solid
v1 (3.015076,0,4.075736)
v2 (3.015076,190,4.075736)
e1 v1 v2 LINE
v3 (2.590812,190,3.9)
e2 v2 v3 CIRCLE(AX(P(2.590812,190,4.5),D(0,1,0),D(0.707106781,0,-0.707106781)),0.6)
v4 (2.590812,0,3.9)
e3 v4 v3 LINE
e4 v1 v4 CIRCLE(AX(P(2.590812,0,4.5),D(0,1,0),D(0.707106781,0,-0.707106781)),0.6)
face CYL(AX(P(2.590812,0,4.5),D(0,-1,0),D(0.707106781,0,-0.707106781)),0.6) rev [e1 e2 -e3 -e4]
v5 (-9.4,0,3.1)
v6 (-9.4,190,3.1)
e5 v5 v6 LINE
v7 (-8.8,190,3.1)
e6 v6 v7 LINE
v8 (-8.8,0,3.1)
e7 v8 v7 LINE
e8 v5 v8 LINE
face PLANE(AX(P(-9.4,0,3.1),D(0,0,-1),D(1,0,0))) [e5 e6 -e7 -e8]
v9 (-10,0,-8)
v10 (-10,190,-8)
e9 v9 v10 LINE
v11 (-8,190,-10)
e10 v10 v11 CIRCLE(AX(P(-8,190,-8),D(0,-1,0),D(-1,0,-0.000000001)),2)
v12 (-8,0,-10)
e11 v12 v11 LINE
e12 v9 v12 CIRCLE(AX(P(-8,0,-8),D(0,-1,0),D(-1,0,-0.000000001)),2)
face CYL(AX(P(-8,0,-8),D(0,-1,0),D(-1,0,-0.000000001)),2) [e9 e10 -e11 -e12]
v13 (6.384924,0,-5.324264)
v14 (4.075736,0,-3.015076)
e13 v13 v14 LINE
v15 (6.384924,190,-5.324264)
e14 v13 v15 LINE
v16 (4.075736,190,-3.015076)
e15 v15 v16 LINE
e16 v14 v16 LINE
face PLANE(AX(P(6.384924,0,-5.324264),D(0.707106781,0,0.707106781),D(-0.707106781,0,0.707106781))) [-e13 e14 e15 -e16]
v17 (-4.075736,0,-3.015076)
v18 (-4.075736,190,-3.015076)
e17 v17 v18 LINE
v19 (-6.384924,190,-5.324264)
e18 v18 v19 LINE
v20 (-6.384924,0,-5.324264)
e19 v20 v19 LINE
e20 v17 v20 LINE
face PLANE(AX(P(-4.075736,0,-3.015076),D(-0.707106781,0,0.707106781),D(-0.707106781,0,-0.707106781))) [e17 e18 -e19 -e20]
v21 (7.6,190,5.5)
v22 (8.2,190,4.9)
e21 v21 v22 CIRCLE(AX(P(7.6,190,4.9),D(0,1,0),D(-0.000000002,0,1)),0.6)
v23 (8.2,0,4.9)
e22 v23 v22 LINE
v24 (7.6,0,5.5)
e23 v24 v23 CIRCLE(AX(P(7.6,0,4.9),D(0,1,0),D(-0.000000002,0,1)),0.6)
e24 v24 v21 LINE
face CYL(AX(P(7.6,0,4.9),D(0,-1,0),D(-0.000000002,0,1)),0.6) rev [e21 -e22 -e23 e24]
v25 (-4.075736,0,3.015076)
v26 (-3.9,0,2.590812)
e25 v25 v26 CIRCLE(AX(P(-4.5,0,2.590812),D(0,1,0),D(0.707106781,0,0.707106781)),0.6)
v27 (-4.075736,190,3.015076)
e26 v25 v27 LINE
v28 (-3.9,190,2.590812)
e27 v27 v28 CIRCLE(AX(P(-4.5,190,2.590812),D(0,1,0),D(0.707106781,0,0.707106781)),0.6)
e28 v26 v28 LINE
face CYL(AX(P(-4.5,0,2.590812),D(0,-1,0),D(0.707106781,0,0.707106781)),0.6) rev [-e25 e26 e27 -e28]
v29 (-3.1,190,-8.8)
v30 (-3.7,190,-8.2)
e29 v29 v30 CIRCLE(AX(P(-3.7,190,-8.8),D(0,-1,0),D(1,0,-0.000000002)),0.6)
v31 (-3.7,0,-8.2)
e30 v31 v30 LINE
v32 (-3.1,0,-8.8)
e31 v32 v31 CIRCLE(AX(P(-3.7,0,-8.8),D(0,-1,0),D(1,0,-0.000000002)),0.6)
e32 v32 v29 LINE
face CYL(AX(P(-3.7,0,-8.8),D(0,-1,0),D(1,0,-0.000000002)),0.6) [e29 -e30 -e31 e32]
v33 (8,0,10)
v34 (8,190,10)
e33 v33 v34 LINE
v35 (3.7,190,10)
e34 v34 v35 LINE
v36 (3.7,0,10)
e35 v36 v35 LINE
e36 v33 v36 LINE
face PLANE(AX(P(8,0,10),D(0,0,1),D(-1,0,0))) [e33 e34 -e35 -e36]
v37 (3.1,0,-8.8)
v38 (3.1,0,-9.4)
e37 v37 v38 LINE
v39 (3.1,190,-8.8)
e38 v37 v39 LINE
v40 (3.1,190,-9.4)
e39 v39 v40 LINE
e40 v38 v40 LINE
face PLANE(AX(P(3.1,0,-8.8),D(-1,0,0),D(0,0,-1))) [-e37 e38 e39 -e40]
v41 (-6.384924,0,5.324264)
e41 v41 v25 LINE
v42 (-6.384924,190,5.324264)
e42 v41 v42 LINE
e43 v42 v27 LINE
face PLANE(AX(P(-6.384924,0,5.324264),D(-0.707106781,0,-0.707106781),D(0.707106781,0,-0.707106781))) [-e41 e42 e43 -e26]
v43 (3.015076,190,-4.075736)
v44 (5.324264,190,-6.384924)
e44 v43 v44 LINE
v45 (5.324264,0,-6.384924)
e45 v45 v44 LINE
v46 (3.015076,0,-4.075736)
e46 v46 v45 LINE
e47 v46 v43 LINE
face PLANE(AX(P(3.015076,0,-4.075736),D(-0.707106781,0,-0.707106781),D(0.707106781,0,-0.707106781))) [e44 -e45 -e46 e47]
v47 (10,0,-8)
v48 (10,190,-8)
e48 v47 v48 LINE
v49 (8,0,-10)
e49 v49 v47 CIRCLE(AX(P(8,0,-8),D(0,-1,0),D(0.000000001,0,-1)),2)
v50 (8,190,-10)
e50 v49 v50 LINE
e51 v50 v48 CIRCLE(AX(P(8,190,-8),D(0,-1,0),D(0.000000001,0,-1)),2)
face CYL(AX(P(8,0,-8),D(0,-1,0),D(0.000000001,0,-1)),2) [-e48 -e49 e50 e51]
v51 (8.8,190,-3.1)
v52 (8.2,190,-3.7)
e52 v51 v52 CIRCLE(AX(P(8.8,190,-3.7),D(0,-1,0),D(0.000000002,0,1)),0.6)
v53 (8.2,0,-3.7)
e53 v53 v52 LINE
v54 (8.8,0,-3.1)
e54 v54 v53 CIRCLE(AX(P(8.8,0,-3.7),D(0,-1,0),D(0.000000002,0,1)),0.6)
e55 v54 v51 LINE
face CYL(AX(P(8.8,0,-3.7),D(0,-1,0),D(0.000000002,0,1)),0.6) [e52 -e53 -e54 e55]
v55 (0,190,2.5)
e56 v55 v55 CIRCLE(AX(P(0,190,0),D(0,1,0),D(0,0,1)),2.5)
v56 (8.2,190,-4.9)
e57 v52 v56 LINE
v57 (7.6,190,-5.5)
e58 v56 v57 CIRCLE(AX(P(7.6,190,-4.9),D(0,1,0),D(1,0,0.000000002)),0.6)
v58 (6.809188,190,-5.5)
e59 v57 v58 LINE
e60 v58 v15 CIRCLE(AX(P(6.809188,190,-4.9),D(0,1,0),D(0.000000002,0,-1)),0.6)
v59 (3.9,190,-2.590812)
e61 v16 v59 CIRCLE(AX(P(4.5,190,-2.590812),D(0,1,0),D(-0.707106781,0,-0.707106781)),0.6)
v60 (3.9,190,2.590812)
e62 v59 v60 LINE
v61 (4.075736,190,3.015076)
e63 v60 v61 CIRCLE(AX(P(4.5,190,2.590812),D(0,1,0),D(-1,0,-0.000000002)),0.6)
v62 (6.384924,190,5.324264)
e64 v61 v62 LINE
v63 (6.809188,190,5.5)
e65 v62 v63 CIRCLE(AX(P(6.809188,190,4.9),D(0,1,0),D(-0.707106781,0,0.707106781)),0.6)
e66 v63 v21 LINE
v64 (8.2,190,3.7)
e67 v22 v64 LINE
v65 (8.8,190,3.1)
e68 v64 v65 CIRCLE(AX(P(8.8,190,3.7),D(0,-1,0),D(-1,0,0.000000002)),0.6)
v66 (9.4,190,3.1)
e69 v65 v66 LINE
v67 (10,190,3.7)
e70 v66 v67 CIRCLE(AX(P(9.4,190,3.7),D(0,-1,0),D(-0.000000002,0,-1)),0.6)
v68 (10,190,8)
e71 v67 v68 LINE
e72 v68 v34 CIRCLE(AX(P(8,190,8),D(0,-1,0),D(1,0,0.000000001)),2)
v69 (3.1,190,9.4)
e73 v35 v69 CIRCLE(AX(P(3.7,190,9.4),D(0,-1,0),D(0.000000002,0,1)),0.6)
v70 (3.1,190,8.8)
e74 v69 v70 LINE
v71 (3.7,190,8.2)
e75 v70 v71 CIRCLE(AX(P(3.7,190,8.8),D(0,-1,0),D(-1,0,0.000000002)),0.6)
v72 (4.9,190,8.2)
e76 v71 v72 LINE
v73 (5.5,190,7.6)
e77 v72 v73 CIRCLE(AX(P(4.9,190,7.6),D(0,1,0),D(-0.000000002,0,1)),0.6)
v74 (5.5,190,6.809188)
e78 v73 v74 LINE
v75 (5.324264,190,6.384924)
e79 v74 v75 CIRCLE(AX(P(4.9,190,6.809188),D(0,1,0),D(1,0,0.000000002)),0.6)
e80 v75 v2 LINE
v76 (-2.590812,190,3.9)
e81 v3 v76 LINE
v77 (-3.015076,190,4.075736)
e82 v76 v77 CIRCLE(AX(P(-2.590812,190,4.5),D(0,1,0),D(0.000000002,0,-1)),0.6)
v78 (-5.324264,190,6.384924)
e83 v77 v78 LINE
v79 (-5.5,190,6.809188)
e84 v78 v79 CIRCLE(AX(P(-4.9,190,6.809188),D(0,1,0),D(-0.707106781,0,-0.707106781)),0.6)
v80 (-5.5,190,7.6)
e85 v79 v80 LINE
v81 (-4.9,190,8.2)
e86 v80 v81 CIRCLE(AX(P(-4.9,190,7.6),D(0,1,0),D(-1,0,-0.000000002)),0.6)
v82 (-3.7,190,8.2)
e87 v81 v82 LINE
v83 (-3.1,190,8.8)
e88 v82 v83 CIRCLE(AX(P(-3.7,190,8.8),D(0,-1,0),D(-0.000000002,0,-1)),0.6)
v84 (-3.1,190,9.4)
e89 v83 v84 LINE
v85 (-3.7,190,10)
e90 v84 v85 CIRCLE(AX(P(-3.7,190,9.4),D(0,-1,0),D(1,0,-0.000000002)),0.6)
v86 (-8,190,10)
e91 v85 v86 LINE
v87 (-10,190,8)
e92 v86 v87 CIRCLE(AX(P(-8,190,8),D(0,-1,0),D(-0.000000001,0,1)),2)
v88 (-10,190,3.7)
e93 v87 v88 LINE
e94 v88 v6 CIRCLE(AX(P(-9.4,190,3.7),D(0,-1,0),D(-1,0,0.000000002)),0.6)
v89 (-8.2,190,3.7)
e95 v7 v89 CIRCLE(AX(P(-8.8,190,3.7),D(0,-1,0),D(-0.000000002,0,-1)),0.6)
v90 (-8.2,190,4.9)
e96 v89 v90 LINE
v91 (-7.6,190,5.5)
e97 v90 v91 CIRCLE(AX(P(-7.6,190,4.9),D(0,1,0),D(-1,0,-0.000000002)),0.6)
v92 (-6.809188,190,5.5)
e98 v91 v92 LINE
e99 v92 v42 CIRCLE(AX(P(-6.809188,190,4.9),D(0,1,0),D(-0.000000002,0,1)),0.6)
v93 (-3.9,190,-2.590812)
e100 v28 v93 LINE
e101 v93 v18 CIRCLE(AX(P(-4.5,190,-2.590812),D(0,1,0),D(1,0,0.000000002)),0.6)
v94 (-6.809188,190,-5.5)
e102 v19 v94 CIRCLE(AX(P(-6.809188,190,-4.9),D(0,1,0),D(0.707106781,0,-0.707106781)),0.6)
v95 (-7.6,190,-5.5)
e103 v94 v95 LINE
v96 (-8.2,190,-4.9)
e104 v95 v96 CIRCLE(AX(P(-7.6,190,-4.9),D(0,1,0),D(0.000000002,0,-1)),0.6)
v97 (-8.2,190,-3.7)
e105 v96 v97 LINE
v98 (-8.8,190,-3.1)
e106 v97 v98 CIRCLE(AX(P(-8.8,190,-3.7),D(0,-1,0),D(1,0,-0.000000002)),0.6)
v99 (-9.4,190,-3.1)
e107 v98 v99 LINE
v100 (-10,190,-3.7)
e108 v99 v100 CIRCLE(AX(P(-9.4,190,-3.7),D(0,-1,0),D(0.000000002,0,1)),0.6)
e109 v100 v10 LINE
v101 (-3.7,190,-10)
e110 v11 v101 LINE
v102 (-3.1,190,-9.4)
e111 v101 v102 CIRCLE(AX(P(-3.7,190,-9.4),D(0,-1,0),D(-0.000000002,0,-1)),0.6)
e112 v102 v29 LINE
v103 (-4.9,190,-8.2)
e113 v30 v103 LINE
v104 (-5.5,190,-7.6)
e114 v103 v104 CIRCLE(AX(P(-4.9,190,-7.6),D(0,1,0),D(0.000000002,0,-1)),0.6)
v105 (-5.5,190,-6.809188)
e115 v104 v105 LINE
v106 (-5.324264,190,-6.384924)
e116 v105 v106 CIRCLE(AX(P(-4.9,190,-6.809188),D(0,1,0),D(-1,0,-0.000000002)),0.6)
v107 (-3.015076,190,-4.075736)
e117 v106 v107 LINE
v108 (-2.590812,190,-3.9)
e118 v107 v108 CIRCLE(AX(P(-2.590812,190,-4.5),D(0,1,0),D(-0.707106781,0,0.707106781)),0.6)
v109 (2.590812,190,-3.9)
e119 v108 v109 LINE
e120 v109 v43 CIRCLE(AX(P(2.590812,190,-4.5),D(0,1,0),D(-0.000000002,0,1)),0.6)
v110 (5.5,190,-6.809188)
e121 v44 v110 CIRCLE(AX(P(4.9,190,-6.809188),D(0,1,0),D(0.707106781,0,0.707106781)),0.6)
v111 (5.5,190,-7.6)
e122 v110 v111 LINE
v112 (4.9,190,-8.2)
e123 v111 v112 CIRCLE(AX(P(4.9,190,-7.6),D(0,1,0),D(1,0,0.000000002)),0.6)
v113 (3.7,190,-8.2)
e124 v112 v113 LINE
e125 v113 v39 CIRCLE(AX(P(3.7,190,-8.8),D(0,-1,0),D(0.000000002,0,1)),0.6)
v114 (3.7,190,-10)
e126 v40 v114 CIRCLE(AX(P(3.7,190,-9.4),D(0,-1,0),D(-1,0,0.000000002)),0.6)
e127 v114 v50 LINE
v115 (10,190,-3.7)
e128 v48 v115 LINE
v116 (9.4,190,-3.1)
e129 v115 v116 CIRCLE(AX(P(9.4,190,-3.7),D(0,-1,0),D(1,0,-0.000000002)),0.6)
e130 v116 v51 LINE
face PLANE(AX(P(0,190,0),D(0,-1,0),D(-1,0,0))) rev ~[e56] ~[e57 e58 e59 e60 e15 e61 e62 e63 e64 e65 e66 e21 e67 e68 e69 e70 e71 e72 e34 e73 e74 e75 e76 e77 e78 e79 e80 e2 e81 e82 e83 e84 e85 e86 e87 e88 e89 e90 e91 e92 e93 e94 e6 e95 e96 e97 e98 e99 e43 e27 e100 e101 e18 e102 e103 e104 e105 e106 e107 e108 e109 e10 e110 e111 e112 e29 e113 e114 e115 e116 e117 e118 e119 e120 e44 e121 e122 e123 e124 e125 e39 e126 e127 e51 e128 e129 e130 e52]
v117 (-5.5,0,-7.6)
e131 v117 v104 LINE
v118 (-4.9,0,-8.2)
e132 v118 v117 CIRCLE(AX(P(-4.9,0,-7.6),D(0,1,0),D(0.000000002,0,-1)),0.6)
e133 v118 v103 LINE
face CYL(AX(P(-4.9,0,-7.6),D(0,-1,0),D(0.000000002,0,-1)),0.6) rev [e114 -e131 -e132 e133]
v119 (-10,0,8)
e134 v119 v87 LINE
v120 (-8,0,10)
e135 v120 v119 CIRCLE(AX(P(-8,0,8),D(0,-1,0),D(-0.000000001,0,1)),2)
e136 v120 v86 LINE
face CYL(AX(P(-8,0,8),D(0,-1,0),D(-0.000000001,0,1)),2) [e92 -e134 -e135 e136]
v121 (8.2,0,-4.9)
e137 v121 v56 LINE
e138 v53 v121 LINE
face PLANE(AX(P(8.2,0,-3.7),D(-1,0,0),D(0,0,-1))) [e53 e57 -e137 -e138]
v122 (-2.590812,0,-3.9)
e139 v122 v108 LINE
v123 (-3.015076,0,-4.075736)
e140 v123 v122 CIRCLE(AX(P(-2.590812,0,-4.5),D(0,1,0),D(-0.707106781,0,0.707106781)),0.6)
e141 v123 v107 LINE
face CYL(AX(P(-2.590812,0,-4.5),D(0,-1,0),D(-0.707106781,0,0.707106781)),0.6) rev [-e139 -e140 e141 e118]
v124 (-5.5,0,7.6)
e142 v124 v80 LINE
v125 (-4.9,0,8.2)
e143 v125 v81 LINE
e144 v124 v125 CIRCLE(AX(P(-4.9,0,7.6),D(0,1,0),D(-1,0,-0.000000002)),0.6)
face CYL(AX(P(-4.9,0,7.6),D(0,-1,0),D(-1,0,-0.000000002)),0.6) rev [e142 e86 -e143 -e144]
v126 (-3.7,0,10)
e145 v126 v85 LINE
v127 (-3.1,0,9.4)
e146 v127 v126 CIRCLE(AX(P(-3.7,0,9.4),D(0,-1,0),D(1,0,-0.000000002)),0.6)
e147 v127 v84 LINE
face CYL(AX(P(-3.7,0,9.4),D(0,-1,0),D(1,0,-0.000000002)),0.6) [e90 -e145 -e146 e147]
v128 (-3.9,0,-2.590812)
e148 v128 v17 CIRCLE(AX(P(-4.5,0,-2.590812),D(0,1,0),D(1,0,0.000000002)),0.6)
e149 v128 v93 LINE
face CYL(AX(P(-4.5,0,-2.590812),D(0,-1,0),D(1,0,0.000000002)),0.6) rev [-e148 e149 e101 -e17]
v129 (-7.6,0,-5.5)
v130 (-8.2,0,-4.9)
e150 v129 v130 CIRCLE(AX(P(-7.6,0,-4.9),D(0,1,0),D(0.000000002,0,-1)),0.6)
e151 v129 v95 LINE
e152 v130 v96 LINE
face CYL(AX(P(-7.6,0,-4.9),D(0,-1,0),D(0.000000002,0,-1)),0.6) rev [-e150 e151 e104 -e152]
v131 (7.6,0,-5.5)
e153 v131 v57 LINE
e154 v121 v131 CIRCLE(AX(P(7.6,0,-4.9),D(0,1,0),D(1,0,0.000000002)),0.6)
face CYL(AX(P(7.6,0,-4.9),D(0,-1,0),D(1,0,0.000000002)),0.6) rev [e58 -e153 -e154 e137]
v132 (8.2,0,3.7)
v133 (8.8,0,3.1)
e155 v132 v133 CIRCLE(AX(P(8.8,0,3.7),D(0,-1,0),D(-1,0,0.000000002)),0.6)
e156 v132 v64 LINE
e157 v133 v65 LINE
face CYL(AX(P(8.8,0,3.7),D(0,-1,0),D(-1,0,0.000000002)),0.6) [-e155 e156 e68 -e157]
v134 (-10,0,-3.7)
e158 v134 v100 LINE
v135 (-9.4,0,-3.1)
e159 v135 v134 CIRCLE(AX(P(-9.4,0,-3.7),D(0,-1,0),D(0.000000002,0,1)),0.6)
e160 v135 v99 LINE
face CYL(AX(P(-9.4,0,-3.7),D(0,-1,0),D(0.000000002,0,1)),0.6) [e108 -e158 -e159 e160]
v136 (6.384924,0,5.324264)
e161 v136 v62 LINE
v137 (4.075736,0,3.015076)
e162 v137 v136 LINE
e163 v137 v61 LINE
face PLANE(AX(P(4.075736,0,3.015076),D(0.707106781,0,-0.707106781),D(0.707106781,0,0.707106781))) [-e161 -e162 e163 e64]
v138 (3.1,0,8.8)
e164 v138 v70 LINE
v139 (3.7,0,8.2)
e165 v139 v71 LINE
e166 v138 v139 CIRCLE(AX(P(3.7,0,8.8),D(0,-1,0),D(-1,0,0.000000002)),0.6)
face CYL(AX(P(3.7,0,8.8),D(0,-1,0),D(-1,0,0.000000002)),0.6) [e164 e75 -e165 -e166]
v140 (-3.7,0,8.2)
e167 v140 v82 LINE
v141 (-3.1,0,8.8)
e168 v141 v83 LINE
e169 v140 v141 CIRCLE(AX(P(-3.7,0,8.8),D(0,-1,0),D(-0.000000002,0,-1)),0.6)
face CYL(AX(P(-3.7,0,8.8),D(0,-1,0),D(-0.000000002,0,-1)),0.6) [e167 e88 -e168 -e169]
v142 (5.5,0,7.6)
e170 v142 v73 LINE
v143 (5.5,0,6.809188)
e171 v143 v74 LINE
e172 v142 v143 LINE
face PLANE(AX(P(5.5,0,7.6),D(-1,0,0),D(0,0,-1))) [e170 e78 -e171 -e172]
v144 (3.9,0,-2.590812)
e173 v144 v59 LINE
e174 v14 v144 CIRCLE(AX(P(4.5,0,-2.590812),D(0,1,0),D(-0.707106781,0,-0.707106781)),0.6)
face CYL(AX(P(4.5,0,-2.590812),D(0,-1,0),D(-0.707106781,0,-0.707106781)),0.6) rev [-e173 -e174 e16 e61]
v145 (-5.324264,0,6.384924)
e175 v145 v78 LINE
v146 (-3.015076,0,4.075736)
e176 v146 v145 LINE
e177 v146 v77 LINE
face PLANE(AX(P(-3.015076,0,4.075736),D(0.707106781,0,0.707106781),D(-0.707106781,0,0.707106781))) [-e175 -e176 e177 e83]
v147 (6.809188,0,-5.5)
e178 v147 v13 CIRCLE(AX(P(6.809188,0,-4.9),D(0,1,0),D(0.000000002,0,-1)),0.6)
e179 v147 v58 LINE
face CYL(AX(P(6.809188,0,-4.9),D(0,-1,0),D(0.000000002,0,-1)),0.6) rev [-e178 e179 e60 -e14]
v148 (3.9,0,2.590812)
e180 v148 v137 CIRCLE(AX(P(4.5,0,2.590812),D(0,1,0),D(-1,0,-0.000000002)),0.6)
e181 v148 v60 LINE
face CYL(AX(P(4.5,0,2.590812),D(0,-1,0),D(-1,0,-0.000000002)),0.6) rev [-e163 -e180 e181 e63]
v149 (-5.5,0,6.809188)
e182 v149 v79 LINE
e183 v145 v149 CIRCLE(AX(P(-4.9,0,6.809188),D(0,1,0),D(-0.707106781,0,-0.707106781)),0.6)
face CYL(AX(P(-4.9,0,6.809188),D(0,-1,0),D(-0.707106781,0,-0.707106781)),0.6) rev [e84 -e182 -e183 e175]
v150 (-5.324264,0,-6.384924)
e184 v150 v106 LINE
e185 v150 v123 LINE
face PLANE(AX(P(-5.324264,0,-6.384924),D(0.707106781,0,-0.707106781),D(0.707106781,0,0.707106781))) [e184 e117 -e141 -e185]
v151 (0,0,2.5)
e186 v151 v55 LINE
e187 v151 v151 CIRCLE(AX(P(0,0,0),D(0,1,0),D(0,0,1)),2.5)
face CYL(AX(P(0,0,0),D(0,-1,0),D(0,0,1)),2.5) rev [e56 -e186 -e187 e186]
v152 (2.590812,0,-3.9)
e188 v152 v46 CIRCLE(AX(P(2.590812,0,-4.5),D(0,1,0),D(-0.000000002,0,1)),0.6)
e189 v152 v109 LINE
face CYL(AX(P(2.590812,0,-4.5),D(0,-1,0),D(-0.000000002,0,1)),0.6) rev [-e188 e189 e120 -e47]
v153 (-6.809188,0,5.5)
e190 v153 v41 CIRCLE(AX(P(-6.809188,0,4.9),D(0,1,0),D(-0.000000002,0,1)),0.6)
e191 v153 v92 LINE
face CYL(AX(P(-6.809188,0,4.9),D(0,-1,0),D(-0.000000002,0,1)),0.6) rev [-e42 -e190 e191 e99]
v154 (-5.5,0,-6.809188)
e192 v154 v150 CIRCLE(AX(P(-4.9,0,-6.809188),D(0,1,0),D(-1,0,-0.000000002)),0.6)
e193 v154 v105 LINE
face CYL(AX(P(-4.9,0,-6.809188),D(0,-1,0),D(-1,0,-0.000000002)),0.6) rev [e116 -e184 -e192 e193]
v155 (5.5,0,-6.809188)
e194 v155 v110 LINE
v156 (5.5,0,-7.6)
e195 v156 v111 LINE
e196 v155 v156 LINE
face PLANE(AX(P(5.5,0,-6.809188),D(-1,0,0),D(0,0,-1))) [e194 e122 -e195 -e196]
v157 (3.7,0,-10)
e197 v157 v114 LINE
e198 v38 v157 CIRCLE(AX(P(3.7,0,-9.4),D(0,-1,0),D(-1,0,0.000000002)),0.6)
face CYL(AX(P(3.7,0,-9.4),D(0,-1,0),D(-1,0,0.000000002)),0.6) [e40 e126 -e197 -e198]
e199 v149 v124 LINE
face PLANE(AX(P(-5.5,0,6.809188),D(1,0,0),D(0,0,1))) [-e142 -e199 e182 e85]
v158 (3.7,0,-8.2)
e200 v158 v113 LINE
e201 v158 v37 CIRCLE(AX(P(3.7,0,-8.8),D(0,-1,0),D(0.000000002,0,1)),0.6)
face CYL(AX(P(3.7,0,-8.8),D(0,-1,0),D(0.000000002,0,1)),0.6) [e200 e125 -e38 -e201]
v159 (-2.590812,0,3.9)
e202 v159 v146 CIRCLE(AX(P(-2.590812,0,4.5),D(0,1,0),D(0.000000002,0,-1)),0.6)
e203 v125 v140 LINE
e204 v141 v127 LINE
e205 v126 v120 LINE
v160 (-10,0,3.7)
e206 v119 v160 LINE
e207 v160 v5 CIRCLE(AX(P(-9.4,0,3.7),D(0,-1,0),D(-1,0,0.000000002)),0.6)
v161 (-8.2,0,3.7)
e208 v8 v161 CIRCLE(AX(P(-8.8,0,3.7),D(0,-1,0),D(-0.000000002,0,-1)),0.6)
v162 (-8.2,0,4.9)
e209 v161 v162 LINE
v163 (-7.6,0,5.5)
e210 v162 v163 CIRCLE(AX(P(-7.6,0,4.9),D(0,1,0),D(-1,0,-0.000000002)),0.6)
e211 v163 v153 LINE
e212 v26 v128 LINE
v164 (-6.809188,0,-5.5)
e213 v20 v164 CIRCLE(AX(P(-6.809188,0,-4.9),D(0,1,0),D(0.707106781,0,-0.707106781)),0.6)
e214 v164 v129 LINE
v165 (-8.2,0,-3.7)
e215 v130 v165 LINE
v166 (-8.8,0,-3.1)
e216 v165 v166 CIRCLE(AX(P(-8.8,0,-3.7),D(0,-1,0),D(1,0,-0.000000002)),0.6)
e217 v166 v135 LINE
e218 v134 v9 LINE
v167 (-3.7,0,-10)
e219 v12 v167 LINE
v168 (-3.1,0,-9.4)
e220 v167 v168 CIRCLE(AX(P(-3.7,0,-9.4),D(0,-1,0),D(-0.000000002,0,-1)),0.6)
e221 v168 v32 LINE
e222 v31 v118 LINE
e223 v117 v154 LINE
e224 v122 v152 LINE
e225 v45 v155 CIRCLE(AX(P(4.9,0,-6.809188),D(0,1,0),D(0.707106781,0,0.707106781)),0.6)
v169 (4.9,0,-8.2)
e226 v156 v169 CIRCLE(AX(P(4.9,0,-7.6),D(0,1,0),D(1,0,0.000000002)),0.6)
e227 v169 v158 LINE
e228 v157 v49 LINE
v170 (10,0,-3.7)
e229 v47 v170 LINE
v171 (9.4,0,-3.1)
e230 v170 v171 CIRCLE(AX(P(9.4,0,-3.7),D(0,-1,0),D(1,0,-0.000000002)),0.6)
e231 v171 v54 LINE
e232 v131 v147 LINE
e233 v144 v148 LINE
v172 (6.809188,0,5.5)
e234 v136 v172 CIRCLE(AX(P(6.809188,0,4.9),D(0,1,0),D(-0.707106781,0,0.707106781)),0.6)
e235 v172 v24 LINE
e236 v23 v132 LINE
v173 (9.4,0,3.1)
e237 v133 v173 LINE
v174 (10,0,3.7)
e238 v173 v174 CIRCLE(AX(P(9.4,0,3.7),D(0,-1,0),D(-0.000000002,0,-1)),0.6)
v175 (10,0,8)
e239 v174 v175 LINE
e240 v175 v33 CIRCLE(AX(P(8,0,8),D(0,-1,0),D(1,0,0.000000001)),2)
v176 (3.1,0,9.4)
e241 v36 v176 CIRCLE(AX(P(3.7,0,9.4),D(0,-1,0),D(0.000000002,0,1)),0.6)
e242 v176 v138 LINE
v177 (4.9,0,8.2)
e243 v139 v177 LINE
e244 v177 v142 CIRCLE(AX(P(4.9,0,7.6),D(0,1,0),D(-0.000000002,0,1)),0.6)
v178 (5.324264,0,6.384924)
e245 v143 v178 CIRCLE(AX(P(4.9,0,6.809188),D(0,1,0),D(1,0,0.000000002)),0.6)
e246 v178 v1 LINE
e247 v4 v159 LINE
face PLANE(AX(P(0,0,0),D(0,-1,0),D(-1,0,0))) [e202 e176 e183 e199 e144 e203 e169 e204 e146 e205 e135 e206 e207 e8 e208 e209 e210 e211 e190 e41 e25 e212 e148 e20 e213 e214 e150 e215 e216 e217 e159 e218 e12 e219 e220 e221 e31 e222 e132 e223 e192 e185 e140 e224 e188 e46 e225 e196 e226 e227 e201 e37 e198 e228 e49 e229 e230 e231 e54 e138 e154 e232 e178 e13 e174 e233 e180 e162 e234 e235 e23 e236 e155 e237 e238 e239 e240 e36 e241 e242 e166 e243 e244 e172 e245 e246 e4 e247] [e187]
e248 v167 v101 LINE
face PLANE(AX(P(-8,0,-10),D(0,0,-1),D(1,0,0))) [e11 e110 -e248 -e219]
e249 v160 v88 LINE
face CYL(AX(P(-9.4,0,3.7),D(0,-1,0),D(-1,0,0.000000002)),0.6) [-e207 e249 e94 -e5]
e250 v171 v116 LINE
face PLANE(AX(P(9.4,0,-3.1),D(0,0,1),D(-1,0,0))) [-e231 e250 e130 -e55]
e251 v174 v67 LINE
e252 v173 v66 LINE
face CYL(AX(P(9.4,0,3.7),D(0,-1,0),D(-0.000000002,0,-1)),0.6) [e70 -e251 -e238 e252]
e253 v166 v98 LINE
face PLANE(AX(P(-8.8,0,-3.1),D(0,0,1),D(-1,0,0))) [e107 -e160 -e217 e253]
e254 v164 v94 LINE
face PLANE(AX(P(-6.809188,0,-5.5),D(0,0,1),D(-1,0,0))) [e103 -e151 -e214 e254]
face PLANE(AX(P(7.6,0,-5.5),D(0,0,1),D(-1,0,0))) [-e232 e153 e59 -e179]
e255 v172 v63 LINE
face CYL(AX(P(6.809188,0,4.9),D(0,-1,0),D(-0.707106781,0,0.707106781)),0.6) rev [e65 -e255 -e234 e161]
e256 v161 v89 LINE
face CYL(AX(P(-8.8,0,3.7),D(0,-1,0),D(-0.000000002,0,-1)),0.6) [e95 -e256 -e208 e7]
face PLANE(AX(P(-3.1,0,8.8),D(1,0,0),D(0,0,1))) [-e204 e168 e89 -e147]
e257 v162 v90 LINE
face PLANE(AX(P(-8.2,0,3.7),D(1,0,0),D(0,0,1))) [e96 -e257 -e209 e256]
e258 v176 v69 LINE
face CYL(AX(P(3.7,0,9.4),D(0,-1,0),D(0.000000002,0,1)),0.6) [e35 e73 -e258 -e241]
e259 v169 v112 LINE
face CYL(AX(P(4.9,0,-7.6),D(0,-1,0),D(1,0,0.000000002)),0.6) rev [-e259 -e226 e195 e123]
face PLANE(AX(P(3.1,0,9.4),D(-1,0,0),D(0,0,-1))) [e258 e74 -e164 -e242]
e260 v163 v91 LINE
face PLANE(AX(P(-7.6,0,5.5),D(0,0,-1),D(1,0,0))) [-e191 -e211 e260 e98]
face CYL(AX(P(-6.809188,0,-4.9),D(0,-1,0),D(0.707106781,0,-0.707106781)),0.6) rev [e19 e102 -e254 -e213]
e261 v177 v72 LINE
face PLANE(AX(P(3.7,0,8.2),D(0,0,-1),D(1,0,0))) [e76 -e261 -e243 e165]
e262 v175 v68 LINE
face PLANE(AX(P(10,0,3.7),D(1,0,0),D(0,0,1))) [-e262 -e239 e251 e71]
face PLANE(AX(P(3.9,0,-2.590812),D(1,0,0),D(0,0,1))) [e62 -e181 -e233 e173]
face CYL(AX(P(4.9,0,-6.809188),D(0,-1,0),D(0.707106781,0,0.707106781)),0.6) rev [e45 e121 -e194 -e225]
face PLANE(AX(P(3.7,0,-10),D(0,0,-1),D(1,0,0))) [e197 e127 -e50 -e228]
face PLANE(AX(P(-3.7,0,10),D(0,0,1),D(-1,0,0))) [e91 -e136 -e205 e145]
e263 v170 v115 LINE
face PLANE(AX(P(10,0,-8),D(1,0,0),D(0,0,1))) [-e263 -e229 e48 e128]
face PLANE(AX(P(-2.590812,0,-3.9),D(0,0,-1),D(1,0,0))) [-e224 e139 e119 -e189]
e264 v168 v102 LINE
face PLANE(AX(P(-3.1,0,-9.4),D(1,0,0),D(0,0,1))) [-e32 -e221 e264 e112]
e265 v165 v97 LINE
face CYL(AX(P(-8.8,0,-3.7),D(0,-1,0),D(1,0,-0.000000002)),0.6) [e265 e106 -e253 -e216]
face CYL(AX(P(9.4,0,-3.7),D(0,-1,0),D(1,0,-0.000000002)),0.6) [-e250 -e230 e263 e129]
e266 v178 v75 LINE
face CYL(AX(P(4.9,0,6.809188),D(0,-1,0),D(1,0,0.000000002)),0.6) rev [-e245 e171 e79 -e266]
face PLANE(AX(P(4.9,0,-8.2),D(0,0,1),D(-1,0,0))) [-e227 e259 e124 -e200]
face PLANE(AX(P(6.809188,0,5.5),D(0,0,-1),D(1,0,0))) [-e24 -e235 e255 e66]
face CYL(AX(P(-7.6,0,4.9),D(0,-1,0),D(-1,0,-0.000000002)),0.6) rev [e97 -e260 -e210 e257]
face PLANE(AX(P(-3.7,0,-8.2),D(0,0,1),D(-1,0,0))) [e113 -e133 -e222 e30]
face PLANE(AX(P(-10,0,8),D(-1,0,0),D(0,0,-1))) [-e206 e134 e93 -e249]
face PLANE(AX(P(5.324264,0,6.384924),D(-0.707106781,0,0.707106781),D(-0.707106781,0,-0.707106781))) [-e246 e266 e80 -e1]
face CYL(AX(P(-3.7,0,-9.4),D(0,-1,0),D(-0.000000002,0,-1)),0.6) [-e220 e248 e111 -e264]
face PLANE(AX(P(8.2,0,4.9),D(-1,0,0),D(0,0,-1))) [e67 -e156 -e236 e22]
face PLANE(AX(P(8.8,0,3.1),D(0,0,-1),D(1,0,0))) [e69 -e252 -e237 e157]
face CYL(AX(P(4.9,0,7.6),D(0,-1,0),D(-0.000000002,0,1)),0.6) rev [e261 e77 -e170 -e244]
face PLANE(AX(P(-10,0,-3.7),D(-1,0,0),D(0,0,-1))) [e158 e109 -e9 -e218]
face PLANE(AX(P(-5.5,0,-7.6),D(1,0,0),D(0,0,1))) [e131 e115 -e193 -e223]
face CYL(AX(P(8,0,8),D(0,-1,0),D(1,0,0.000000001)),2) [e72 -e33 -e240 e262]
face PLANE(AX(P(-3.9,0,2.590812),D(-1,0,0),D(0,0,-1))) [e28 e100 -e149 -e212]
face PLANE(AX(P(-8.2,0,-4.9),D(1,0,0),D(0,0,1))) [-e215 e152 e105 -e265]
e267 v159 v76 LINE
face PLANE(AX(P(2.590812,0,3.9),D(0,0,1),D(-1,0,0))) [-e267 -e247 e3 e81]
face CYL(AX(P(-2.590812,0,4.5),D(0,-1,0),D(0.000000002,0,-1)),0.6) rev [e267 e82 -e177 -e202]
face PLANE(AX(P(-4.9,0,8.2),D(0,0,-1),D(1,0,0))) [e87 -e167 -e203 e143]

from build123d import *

# Parameters (mm, degrees)
SKETCH_1_R      = 2.5
EXTRUDE_1_DEPTH = 190


with BuildPart() as part:
    # 草图1 → 凸台-拉伸1 (new body)
    with BuildSketch(Plane(origin=(0, 0, 0), x_dir=(1, 0, 0), z_dir=(0, 1, 0))):
        with BuildLine():
            Line((3.1, 8.8), (3.1, 9.4))
            ThreePointArc((3.1, 9.4), (3.275735931, 9.824264069), (3.7, 10))
            Line((3.7, 10), (8, 10))
            ThreePointArc((8, 10), (9.414213562, 9.414213562), (10, 8))
            Line((10, 8), (10, 3.7))
            ThreePointArc((10, 3.7), (9.824264069, 3.275735931), (9.4, 3.1))
            Line((9.4, 3.1), (8.8, 3.1))
            ThreePointArc((8.8, 3.1), (8.375735931, 3.275735931), (8.2, 3.7))
            Line((8.2, 3.7), (8.2, 4.9))
            ThreePointArc((8.2, 4.9), (8.024264069, 5.324264069), (7.6, 5.5))
            Line((7.6, 5.5), (6.809188309, 5.5))
            ThreePointArc((6.809188309, 5.5), (6.57957825, 5.45432772), (6.38492424, 5.324264069))
            Line((6.38492424, 5.324264069), (4.075735931, 3.01507576))
            ThreePointArc((4.075735931, 3.01507576), (3.94567228, 2.82042175), (3.9, 2.590811691))
            Line((3.9, 2.590811691), (3.9, 0))
            Line((3.9, 0), (3.9, -2.590811691))
            ThreePointArc((3.9, -2.590811691), (3.94567228, -2.82042175), (4.075735931, -3.01507576))
            Line((4.075735931, -3.01507576), (6.38492424, -5.324264069))
            ThreePointArc((6.38492424, -5.324264069), (6.57957825, -5.45432772), (6.809188309, -5.5))
            Line((6.809188309, -5.5), (7.6, -5.5))
            ThreePointArc((7.6, -5.5), (8.024264069, -5.324264069), (8.2, -4.9))
            Line((8.2, -4.9), (8.2, -3.7))
            ThreePointArc((8.2, -3.7), (8.375735931, -3.275735931), (8.8, -3.1))
            Line((8.8, -3.1), (9.4, -3.1))
            ThreePointArc((9.4, -3.1), (9.824264069, -3.275735931), (10, -3.7))
            Line((10, -3.7), (10, -8))
            ThreePointArc((10, -8), (9.414213562, -9.414213562), (8, -10))
            Line((8, -10), (3.7, -10))
            ThreePointArc((3.7, -10), (3.275735931, -9.824264069), (3.1, -9.4))
            Line((3.1, -9.4), (3.1, -8.8))
            ThreePointArc((3.1, -8.8), (3.275735931, -8.375735931), (3.7, -8.2))
            Line((3.7, -8.2), (4.9, -8.2))
            ThreePointArc((4.9, -8.2), (5.324264069, -8.024264069), (5.5, -7.6))
            Line((5.5, -7.6), (5.5, -6.809188309))
            ThreePointArc((5.5, -6.809188309), (5.45432772, -6.57957825), (5.324264069, -6.38492424))
            Line((5.324264069, -6.38492424), (3.01507576, -4.075735931))
            ThreePointArc((3.01507576, -4.075735931), (2.82042175, -3.94567228), (2.590811691, -3.9))
            Line((2.590811691, -3.9), (0, -3.9))
            Line((0, -3.9), (-2.590811691, -3.9))
            ThreePointArc((-2.590811691, -3.9), (-2.82042175, -3.94567228), (-3.01507576, -4.075735931))
            Line((-3.01507576, -4.075735931), (-5.324264069, -6.38492424))
            ThreePointArc((-5.324264069, -6.38492424), (-5.45432772, -6.57957825), (-5.5, -6.809188309))
            Line((-5.5, -6.809188309), (-5.5, -7.6))
            ThreePointArc((-5.5, -7.6), (-5.324264069, -8.024264069), (-4.9, -8.2))
            Line((-4.9, -8.2), (-3.7, -8.2))
            ThreePointArc((-3.7, -8.2), (-3.275735931, -8.375735931), (-3.1, -8.8))
            Line((-3.1, -8.8), (-3.1, -9.4))
            ThreePointArc((-3.1, -9.4), (-3.275735931, -9.824264069), (-3.7, -10))
            Line((-3.7, -10), (-8, -10))
            ThreePointArc((-8, -10), (-9.414213562, -9.414213562), (-10, -8))
            Line((-10, -8), (-10, -3.7))
            ThreePointArc((-10, -3.7), (-9.824264069, -3.275735931), (-9.4, -3.1))
            Line((-9.4, -3.1), (-8.8, -3.1))
            ThreePointArc((-8.8, -3.1), (-8.375735931, -3.275735931), (-8.2, -3.7))
            Line((-8.2, -3.7), (-8.2, -4.9))
            ThreePointArc((-8.2, -4.9), (-8.024264069, -5.324264069), (-7.6, -5.5))
            Line((-7.6, -5.5), (-6.809188309, -5.5))
            ThreePointArc((-6.809188309, -5.5), (-6.57957825, -5.45432772), (-6.38492424, -5.324264069))
            Line((-6.38492424, -5.324264069), (-4.075735931, -3.01507576))
            ThreePointArc((-4.075735931, -3.01507576), (-3.94567228, -2.82042175), (-3.9, -2.590811691))
            Line((-3.9, -2.590811691), (-3.9, 0))
            Line((-3.9, 0), (-3.9, 2.590811691))
            ThreePointArc((-3.9, 2.590811691), (-3.94567228, 2.82042175), (-4.075735931, 3.01507576))
            Line((-4.075735931, 3.01507576), (-6.38492424, 5.324264069))
            ThreePointArc((-6.38492424, 5.324264069), (-6.57957825, 5.45432772), (-6.809188309, 5.5))
            Line((-6.809188309, 5.5), (-7.6, 5.5))
            ThreePointArc((-7.6, 5.5), (-8.024264069, 5.324264069), (-8.2, 4.9))
            Line((-8.2, 4.9), (-8.2, 3.7))
            ThreePointArc((-8.2, 3.7), (-8.375735931, 3.275735931), (-8.8, 3.1))
            Line((-8.8, 3.1), (-9.4, 3.1))
            ThreePointArc((-9.4, 3.1), (-9.824264069, 3.275735931), (-10, 3.7))
            Line((-10, 3.7), (-10, 8))
            ThreePointArc((-10, 8), (-9.414213562, 9.414213562), (-8, 10))
            Line((-8, 10), (-3.7, 10))
            ThreePointArc((-3.7, 10), (-3.275735931, 9.824264069), (-3.1, 9.4))
            Line((-3.1, 9.4), (-3.1, 8.8))
            ThreePointArc((-3.1, 8.8), (-3.275735931, 8.375735931), (-3.7, 8.2))
            Line((-3.7, 8.2), (-4.9, 8.2))
            ThreePointArc((-4.9, 8.2), (-5.324264069, 8.024264069), (-5.5, 7.6))
            Line((-5.5, 7.6), (-5.5, 6.809188309))
            ThreePointArc((-5.5, 6.809188309), (-5.45432772, 6.57957825), (-5.324264069, 6.38492424))
            Line((-5.324264069, 6.38492424), (-3.01507576, 4.075735931))
            ThreePointArc((-3.01507576, 4.075735931), (-2.82042175, 3.94567228), (-2.590811691, 3.9))
            Line((-2.590811691, 3.9), (0, 3.9))
            Line((0, 3.9), (2.590811691, 3.9))
            ThreePointArc((2.590811691, 3.9), (2.82042175, 3.94567228), (3.01507576, 4.075735931))
            Line((3.01507576, 4.075735931), (5.324264069, 6.38492424))
            ThreePointArc((5.324264069, 6.38492424), (5.45432772, 6.57957825), (5.5, 6.809188309))
            Line((5.5, 6.809188309), (5.5, 7.6))
            ThreePointArc((5.5, 7.6), (5.324264069, 8.024264069), (4.9, 8.2))
            Line((4.9, 8.2), (3.7, 8.2))
            ThreePointArc((3.7, 8.2), (3.275735931, 8.375735931), (3.1, 8.8))
        make_face()
        with Locations(Location((0, 0, 0), (0, 0, 270))):
            Circle(SKETCH_1_R, mode=Mode.SUBTRACT)
    extrude(amount=EXTRUDE_1_DEPTH)


solid = part.part
